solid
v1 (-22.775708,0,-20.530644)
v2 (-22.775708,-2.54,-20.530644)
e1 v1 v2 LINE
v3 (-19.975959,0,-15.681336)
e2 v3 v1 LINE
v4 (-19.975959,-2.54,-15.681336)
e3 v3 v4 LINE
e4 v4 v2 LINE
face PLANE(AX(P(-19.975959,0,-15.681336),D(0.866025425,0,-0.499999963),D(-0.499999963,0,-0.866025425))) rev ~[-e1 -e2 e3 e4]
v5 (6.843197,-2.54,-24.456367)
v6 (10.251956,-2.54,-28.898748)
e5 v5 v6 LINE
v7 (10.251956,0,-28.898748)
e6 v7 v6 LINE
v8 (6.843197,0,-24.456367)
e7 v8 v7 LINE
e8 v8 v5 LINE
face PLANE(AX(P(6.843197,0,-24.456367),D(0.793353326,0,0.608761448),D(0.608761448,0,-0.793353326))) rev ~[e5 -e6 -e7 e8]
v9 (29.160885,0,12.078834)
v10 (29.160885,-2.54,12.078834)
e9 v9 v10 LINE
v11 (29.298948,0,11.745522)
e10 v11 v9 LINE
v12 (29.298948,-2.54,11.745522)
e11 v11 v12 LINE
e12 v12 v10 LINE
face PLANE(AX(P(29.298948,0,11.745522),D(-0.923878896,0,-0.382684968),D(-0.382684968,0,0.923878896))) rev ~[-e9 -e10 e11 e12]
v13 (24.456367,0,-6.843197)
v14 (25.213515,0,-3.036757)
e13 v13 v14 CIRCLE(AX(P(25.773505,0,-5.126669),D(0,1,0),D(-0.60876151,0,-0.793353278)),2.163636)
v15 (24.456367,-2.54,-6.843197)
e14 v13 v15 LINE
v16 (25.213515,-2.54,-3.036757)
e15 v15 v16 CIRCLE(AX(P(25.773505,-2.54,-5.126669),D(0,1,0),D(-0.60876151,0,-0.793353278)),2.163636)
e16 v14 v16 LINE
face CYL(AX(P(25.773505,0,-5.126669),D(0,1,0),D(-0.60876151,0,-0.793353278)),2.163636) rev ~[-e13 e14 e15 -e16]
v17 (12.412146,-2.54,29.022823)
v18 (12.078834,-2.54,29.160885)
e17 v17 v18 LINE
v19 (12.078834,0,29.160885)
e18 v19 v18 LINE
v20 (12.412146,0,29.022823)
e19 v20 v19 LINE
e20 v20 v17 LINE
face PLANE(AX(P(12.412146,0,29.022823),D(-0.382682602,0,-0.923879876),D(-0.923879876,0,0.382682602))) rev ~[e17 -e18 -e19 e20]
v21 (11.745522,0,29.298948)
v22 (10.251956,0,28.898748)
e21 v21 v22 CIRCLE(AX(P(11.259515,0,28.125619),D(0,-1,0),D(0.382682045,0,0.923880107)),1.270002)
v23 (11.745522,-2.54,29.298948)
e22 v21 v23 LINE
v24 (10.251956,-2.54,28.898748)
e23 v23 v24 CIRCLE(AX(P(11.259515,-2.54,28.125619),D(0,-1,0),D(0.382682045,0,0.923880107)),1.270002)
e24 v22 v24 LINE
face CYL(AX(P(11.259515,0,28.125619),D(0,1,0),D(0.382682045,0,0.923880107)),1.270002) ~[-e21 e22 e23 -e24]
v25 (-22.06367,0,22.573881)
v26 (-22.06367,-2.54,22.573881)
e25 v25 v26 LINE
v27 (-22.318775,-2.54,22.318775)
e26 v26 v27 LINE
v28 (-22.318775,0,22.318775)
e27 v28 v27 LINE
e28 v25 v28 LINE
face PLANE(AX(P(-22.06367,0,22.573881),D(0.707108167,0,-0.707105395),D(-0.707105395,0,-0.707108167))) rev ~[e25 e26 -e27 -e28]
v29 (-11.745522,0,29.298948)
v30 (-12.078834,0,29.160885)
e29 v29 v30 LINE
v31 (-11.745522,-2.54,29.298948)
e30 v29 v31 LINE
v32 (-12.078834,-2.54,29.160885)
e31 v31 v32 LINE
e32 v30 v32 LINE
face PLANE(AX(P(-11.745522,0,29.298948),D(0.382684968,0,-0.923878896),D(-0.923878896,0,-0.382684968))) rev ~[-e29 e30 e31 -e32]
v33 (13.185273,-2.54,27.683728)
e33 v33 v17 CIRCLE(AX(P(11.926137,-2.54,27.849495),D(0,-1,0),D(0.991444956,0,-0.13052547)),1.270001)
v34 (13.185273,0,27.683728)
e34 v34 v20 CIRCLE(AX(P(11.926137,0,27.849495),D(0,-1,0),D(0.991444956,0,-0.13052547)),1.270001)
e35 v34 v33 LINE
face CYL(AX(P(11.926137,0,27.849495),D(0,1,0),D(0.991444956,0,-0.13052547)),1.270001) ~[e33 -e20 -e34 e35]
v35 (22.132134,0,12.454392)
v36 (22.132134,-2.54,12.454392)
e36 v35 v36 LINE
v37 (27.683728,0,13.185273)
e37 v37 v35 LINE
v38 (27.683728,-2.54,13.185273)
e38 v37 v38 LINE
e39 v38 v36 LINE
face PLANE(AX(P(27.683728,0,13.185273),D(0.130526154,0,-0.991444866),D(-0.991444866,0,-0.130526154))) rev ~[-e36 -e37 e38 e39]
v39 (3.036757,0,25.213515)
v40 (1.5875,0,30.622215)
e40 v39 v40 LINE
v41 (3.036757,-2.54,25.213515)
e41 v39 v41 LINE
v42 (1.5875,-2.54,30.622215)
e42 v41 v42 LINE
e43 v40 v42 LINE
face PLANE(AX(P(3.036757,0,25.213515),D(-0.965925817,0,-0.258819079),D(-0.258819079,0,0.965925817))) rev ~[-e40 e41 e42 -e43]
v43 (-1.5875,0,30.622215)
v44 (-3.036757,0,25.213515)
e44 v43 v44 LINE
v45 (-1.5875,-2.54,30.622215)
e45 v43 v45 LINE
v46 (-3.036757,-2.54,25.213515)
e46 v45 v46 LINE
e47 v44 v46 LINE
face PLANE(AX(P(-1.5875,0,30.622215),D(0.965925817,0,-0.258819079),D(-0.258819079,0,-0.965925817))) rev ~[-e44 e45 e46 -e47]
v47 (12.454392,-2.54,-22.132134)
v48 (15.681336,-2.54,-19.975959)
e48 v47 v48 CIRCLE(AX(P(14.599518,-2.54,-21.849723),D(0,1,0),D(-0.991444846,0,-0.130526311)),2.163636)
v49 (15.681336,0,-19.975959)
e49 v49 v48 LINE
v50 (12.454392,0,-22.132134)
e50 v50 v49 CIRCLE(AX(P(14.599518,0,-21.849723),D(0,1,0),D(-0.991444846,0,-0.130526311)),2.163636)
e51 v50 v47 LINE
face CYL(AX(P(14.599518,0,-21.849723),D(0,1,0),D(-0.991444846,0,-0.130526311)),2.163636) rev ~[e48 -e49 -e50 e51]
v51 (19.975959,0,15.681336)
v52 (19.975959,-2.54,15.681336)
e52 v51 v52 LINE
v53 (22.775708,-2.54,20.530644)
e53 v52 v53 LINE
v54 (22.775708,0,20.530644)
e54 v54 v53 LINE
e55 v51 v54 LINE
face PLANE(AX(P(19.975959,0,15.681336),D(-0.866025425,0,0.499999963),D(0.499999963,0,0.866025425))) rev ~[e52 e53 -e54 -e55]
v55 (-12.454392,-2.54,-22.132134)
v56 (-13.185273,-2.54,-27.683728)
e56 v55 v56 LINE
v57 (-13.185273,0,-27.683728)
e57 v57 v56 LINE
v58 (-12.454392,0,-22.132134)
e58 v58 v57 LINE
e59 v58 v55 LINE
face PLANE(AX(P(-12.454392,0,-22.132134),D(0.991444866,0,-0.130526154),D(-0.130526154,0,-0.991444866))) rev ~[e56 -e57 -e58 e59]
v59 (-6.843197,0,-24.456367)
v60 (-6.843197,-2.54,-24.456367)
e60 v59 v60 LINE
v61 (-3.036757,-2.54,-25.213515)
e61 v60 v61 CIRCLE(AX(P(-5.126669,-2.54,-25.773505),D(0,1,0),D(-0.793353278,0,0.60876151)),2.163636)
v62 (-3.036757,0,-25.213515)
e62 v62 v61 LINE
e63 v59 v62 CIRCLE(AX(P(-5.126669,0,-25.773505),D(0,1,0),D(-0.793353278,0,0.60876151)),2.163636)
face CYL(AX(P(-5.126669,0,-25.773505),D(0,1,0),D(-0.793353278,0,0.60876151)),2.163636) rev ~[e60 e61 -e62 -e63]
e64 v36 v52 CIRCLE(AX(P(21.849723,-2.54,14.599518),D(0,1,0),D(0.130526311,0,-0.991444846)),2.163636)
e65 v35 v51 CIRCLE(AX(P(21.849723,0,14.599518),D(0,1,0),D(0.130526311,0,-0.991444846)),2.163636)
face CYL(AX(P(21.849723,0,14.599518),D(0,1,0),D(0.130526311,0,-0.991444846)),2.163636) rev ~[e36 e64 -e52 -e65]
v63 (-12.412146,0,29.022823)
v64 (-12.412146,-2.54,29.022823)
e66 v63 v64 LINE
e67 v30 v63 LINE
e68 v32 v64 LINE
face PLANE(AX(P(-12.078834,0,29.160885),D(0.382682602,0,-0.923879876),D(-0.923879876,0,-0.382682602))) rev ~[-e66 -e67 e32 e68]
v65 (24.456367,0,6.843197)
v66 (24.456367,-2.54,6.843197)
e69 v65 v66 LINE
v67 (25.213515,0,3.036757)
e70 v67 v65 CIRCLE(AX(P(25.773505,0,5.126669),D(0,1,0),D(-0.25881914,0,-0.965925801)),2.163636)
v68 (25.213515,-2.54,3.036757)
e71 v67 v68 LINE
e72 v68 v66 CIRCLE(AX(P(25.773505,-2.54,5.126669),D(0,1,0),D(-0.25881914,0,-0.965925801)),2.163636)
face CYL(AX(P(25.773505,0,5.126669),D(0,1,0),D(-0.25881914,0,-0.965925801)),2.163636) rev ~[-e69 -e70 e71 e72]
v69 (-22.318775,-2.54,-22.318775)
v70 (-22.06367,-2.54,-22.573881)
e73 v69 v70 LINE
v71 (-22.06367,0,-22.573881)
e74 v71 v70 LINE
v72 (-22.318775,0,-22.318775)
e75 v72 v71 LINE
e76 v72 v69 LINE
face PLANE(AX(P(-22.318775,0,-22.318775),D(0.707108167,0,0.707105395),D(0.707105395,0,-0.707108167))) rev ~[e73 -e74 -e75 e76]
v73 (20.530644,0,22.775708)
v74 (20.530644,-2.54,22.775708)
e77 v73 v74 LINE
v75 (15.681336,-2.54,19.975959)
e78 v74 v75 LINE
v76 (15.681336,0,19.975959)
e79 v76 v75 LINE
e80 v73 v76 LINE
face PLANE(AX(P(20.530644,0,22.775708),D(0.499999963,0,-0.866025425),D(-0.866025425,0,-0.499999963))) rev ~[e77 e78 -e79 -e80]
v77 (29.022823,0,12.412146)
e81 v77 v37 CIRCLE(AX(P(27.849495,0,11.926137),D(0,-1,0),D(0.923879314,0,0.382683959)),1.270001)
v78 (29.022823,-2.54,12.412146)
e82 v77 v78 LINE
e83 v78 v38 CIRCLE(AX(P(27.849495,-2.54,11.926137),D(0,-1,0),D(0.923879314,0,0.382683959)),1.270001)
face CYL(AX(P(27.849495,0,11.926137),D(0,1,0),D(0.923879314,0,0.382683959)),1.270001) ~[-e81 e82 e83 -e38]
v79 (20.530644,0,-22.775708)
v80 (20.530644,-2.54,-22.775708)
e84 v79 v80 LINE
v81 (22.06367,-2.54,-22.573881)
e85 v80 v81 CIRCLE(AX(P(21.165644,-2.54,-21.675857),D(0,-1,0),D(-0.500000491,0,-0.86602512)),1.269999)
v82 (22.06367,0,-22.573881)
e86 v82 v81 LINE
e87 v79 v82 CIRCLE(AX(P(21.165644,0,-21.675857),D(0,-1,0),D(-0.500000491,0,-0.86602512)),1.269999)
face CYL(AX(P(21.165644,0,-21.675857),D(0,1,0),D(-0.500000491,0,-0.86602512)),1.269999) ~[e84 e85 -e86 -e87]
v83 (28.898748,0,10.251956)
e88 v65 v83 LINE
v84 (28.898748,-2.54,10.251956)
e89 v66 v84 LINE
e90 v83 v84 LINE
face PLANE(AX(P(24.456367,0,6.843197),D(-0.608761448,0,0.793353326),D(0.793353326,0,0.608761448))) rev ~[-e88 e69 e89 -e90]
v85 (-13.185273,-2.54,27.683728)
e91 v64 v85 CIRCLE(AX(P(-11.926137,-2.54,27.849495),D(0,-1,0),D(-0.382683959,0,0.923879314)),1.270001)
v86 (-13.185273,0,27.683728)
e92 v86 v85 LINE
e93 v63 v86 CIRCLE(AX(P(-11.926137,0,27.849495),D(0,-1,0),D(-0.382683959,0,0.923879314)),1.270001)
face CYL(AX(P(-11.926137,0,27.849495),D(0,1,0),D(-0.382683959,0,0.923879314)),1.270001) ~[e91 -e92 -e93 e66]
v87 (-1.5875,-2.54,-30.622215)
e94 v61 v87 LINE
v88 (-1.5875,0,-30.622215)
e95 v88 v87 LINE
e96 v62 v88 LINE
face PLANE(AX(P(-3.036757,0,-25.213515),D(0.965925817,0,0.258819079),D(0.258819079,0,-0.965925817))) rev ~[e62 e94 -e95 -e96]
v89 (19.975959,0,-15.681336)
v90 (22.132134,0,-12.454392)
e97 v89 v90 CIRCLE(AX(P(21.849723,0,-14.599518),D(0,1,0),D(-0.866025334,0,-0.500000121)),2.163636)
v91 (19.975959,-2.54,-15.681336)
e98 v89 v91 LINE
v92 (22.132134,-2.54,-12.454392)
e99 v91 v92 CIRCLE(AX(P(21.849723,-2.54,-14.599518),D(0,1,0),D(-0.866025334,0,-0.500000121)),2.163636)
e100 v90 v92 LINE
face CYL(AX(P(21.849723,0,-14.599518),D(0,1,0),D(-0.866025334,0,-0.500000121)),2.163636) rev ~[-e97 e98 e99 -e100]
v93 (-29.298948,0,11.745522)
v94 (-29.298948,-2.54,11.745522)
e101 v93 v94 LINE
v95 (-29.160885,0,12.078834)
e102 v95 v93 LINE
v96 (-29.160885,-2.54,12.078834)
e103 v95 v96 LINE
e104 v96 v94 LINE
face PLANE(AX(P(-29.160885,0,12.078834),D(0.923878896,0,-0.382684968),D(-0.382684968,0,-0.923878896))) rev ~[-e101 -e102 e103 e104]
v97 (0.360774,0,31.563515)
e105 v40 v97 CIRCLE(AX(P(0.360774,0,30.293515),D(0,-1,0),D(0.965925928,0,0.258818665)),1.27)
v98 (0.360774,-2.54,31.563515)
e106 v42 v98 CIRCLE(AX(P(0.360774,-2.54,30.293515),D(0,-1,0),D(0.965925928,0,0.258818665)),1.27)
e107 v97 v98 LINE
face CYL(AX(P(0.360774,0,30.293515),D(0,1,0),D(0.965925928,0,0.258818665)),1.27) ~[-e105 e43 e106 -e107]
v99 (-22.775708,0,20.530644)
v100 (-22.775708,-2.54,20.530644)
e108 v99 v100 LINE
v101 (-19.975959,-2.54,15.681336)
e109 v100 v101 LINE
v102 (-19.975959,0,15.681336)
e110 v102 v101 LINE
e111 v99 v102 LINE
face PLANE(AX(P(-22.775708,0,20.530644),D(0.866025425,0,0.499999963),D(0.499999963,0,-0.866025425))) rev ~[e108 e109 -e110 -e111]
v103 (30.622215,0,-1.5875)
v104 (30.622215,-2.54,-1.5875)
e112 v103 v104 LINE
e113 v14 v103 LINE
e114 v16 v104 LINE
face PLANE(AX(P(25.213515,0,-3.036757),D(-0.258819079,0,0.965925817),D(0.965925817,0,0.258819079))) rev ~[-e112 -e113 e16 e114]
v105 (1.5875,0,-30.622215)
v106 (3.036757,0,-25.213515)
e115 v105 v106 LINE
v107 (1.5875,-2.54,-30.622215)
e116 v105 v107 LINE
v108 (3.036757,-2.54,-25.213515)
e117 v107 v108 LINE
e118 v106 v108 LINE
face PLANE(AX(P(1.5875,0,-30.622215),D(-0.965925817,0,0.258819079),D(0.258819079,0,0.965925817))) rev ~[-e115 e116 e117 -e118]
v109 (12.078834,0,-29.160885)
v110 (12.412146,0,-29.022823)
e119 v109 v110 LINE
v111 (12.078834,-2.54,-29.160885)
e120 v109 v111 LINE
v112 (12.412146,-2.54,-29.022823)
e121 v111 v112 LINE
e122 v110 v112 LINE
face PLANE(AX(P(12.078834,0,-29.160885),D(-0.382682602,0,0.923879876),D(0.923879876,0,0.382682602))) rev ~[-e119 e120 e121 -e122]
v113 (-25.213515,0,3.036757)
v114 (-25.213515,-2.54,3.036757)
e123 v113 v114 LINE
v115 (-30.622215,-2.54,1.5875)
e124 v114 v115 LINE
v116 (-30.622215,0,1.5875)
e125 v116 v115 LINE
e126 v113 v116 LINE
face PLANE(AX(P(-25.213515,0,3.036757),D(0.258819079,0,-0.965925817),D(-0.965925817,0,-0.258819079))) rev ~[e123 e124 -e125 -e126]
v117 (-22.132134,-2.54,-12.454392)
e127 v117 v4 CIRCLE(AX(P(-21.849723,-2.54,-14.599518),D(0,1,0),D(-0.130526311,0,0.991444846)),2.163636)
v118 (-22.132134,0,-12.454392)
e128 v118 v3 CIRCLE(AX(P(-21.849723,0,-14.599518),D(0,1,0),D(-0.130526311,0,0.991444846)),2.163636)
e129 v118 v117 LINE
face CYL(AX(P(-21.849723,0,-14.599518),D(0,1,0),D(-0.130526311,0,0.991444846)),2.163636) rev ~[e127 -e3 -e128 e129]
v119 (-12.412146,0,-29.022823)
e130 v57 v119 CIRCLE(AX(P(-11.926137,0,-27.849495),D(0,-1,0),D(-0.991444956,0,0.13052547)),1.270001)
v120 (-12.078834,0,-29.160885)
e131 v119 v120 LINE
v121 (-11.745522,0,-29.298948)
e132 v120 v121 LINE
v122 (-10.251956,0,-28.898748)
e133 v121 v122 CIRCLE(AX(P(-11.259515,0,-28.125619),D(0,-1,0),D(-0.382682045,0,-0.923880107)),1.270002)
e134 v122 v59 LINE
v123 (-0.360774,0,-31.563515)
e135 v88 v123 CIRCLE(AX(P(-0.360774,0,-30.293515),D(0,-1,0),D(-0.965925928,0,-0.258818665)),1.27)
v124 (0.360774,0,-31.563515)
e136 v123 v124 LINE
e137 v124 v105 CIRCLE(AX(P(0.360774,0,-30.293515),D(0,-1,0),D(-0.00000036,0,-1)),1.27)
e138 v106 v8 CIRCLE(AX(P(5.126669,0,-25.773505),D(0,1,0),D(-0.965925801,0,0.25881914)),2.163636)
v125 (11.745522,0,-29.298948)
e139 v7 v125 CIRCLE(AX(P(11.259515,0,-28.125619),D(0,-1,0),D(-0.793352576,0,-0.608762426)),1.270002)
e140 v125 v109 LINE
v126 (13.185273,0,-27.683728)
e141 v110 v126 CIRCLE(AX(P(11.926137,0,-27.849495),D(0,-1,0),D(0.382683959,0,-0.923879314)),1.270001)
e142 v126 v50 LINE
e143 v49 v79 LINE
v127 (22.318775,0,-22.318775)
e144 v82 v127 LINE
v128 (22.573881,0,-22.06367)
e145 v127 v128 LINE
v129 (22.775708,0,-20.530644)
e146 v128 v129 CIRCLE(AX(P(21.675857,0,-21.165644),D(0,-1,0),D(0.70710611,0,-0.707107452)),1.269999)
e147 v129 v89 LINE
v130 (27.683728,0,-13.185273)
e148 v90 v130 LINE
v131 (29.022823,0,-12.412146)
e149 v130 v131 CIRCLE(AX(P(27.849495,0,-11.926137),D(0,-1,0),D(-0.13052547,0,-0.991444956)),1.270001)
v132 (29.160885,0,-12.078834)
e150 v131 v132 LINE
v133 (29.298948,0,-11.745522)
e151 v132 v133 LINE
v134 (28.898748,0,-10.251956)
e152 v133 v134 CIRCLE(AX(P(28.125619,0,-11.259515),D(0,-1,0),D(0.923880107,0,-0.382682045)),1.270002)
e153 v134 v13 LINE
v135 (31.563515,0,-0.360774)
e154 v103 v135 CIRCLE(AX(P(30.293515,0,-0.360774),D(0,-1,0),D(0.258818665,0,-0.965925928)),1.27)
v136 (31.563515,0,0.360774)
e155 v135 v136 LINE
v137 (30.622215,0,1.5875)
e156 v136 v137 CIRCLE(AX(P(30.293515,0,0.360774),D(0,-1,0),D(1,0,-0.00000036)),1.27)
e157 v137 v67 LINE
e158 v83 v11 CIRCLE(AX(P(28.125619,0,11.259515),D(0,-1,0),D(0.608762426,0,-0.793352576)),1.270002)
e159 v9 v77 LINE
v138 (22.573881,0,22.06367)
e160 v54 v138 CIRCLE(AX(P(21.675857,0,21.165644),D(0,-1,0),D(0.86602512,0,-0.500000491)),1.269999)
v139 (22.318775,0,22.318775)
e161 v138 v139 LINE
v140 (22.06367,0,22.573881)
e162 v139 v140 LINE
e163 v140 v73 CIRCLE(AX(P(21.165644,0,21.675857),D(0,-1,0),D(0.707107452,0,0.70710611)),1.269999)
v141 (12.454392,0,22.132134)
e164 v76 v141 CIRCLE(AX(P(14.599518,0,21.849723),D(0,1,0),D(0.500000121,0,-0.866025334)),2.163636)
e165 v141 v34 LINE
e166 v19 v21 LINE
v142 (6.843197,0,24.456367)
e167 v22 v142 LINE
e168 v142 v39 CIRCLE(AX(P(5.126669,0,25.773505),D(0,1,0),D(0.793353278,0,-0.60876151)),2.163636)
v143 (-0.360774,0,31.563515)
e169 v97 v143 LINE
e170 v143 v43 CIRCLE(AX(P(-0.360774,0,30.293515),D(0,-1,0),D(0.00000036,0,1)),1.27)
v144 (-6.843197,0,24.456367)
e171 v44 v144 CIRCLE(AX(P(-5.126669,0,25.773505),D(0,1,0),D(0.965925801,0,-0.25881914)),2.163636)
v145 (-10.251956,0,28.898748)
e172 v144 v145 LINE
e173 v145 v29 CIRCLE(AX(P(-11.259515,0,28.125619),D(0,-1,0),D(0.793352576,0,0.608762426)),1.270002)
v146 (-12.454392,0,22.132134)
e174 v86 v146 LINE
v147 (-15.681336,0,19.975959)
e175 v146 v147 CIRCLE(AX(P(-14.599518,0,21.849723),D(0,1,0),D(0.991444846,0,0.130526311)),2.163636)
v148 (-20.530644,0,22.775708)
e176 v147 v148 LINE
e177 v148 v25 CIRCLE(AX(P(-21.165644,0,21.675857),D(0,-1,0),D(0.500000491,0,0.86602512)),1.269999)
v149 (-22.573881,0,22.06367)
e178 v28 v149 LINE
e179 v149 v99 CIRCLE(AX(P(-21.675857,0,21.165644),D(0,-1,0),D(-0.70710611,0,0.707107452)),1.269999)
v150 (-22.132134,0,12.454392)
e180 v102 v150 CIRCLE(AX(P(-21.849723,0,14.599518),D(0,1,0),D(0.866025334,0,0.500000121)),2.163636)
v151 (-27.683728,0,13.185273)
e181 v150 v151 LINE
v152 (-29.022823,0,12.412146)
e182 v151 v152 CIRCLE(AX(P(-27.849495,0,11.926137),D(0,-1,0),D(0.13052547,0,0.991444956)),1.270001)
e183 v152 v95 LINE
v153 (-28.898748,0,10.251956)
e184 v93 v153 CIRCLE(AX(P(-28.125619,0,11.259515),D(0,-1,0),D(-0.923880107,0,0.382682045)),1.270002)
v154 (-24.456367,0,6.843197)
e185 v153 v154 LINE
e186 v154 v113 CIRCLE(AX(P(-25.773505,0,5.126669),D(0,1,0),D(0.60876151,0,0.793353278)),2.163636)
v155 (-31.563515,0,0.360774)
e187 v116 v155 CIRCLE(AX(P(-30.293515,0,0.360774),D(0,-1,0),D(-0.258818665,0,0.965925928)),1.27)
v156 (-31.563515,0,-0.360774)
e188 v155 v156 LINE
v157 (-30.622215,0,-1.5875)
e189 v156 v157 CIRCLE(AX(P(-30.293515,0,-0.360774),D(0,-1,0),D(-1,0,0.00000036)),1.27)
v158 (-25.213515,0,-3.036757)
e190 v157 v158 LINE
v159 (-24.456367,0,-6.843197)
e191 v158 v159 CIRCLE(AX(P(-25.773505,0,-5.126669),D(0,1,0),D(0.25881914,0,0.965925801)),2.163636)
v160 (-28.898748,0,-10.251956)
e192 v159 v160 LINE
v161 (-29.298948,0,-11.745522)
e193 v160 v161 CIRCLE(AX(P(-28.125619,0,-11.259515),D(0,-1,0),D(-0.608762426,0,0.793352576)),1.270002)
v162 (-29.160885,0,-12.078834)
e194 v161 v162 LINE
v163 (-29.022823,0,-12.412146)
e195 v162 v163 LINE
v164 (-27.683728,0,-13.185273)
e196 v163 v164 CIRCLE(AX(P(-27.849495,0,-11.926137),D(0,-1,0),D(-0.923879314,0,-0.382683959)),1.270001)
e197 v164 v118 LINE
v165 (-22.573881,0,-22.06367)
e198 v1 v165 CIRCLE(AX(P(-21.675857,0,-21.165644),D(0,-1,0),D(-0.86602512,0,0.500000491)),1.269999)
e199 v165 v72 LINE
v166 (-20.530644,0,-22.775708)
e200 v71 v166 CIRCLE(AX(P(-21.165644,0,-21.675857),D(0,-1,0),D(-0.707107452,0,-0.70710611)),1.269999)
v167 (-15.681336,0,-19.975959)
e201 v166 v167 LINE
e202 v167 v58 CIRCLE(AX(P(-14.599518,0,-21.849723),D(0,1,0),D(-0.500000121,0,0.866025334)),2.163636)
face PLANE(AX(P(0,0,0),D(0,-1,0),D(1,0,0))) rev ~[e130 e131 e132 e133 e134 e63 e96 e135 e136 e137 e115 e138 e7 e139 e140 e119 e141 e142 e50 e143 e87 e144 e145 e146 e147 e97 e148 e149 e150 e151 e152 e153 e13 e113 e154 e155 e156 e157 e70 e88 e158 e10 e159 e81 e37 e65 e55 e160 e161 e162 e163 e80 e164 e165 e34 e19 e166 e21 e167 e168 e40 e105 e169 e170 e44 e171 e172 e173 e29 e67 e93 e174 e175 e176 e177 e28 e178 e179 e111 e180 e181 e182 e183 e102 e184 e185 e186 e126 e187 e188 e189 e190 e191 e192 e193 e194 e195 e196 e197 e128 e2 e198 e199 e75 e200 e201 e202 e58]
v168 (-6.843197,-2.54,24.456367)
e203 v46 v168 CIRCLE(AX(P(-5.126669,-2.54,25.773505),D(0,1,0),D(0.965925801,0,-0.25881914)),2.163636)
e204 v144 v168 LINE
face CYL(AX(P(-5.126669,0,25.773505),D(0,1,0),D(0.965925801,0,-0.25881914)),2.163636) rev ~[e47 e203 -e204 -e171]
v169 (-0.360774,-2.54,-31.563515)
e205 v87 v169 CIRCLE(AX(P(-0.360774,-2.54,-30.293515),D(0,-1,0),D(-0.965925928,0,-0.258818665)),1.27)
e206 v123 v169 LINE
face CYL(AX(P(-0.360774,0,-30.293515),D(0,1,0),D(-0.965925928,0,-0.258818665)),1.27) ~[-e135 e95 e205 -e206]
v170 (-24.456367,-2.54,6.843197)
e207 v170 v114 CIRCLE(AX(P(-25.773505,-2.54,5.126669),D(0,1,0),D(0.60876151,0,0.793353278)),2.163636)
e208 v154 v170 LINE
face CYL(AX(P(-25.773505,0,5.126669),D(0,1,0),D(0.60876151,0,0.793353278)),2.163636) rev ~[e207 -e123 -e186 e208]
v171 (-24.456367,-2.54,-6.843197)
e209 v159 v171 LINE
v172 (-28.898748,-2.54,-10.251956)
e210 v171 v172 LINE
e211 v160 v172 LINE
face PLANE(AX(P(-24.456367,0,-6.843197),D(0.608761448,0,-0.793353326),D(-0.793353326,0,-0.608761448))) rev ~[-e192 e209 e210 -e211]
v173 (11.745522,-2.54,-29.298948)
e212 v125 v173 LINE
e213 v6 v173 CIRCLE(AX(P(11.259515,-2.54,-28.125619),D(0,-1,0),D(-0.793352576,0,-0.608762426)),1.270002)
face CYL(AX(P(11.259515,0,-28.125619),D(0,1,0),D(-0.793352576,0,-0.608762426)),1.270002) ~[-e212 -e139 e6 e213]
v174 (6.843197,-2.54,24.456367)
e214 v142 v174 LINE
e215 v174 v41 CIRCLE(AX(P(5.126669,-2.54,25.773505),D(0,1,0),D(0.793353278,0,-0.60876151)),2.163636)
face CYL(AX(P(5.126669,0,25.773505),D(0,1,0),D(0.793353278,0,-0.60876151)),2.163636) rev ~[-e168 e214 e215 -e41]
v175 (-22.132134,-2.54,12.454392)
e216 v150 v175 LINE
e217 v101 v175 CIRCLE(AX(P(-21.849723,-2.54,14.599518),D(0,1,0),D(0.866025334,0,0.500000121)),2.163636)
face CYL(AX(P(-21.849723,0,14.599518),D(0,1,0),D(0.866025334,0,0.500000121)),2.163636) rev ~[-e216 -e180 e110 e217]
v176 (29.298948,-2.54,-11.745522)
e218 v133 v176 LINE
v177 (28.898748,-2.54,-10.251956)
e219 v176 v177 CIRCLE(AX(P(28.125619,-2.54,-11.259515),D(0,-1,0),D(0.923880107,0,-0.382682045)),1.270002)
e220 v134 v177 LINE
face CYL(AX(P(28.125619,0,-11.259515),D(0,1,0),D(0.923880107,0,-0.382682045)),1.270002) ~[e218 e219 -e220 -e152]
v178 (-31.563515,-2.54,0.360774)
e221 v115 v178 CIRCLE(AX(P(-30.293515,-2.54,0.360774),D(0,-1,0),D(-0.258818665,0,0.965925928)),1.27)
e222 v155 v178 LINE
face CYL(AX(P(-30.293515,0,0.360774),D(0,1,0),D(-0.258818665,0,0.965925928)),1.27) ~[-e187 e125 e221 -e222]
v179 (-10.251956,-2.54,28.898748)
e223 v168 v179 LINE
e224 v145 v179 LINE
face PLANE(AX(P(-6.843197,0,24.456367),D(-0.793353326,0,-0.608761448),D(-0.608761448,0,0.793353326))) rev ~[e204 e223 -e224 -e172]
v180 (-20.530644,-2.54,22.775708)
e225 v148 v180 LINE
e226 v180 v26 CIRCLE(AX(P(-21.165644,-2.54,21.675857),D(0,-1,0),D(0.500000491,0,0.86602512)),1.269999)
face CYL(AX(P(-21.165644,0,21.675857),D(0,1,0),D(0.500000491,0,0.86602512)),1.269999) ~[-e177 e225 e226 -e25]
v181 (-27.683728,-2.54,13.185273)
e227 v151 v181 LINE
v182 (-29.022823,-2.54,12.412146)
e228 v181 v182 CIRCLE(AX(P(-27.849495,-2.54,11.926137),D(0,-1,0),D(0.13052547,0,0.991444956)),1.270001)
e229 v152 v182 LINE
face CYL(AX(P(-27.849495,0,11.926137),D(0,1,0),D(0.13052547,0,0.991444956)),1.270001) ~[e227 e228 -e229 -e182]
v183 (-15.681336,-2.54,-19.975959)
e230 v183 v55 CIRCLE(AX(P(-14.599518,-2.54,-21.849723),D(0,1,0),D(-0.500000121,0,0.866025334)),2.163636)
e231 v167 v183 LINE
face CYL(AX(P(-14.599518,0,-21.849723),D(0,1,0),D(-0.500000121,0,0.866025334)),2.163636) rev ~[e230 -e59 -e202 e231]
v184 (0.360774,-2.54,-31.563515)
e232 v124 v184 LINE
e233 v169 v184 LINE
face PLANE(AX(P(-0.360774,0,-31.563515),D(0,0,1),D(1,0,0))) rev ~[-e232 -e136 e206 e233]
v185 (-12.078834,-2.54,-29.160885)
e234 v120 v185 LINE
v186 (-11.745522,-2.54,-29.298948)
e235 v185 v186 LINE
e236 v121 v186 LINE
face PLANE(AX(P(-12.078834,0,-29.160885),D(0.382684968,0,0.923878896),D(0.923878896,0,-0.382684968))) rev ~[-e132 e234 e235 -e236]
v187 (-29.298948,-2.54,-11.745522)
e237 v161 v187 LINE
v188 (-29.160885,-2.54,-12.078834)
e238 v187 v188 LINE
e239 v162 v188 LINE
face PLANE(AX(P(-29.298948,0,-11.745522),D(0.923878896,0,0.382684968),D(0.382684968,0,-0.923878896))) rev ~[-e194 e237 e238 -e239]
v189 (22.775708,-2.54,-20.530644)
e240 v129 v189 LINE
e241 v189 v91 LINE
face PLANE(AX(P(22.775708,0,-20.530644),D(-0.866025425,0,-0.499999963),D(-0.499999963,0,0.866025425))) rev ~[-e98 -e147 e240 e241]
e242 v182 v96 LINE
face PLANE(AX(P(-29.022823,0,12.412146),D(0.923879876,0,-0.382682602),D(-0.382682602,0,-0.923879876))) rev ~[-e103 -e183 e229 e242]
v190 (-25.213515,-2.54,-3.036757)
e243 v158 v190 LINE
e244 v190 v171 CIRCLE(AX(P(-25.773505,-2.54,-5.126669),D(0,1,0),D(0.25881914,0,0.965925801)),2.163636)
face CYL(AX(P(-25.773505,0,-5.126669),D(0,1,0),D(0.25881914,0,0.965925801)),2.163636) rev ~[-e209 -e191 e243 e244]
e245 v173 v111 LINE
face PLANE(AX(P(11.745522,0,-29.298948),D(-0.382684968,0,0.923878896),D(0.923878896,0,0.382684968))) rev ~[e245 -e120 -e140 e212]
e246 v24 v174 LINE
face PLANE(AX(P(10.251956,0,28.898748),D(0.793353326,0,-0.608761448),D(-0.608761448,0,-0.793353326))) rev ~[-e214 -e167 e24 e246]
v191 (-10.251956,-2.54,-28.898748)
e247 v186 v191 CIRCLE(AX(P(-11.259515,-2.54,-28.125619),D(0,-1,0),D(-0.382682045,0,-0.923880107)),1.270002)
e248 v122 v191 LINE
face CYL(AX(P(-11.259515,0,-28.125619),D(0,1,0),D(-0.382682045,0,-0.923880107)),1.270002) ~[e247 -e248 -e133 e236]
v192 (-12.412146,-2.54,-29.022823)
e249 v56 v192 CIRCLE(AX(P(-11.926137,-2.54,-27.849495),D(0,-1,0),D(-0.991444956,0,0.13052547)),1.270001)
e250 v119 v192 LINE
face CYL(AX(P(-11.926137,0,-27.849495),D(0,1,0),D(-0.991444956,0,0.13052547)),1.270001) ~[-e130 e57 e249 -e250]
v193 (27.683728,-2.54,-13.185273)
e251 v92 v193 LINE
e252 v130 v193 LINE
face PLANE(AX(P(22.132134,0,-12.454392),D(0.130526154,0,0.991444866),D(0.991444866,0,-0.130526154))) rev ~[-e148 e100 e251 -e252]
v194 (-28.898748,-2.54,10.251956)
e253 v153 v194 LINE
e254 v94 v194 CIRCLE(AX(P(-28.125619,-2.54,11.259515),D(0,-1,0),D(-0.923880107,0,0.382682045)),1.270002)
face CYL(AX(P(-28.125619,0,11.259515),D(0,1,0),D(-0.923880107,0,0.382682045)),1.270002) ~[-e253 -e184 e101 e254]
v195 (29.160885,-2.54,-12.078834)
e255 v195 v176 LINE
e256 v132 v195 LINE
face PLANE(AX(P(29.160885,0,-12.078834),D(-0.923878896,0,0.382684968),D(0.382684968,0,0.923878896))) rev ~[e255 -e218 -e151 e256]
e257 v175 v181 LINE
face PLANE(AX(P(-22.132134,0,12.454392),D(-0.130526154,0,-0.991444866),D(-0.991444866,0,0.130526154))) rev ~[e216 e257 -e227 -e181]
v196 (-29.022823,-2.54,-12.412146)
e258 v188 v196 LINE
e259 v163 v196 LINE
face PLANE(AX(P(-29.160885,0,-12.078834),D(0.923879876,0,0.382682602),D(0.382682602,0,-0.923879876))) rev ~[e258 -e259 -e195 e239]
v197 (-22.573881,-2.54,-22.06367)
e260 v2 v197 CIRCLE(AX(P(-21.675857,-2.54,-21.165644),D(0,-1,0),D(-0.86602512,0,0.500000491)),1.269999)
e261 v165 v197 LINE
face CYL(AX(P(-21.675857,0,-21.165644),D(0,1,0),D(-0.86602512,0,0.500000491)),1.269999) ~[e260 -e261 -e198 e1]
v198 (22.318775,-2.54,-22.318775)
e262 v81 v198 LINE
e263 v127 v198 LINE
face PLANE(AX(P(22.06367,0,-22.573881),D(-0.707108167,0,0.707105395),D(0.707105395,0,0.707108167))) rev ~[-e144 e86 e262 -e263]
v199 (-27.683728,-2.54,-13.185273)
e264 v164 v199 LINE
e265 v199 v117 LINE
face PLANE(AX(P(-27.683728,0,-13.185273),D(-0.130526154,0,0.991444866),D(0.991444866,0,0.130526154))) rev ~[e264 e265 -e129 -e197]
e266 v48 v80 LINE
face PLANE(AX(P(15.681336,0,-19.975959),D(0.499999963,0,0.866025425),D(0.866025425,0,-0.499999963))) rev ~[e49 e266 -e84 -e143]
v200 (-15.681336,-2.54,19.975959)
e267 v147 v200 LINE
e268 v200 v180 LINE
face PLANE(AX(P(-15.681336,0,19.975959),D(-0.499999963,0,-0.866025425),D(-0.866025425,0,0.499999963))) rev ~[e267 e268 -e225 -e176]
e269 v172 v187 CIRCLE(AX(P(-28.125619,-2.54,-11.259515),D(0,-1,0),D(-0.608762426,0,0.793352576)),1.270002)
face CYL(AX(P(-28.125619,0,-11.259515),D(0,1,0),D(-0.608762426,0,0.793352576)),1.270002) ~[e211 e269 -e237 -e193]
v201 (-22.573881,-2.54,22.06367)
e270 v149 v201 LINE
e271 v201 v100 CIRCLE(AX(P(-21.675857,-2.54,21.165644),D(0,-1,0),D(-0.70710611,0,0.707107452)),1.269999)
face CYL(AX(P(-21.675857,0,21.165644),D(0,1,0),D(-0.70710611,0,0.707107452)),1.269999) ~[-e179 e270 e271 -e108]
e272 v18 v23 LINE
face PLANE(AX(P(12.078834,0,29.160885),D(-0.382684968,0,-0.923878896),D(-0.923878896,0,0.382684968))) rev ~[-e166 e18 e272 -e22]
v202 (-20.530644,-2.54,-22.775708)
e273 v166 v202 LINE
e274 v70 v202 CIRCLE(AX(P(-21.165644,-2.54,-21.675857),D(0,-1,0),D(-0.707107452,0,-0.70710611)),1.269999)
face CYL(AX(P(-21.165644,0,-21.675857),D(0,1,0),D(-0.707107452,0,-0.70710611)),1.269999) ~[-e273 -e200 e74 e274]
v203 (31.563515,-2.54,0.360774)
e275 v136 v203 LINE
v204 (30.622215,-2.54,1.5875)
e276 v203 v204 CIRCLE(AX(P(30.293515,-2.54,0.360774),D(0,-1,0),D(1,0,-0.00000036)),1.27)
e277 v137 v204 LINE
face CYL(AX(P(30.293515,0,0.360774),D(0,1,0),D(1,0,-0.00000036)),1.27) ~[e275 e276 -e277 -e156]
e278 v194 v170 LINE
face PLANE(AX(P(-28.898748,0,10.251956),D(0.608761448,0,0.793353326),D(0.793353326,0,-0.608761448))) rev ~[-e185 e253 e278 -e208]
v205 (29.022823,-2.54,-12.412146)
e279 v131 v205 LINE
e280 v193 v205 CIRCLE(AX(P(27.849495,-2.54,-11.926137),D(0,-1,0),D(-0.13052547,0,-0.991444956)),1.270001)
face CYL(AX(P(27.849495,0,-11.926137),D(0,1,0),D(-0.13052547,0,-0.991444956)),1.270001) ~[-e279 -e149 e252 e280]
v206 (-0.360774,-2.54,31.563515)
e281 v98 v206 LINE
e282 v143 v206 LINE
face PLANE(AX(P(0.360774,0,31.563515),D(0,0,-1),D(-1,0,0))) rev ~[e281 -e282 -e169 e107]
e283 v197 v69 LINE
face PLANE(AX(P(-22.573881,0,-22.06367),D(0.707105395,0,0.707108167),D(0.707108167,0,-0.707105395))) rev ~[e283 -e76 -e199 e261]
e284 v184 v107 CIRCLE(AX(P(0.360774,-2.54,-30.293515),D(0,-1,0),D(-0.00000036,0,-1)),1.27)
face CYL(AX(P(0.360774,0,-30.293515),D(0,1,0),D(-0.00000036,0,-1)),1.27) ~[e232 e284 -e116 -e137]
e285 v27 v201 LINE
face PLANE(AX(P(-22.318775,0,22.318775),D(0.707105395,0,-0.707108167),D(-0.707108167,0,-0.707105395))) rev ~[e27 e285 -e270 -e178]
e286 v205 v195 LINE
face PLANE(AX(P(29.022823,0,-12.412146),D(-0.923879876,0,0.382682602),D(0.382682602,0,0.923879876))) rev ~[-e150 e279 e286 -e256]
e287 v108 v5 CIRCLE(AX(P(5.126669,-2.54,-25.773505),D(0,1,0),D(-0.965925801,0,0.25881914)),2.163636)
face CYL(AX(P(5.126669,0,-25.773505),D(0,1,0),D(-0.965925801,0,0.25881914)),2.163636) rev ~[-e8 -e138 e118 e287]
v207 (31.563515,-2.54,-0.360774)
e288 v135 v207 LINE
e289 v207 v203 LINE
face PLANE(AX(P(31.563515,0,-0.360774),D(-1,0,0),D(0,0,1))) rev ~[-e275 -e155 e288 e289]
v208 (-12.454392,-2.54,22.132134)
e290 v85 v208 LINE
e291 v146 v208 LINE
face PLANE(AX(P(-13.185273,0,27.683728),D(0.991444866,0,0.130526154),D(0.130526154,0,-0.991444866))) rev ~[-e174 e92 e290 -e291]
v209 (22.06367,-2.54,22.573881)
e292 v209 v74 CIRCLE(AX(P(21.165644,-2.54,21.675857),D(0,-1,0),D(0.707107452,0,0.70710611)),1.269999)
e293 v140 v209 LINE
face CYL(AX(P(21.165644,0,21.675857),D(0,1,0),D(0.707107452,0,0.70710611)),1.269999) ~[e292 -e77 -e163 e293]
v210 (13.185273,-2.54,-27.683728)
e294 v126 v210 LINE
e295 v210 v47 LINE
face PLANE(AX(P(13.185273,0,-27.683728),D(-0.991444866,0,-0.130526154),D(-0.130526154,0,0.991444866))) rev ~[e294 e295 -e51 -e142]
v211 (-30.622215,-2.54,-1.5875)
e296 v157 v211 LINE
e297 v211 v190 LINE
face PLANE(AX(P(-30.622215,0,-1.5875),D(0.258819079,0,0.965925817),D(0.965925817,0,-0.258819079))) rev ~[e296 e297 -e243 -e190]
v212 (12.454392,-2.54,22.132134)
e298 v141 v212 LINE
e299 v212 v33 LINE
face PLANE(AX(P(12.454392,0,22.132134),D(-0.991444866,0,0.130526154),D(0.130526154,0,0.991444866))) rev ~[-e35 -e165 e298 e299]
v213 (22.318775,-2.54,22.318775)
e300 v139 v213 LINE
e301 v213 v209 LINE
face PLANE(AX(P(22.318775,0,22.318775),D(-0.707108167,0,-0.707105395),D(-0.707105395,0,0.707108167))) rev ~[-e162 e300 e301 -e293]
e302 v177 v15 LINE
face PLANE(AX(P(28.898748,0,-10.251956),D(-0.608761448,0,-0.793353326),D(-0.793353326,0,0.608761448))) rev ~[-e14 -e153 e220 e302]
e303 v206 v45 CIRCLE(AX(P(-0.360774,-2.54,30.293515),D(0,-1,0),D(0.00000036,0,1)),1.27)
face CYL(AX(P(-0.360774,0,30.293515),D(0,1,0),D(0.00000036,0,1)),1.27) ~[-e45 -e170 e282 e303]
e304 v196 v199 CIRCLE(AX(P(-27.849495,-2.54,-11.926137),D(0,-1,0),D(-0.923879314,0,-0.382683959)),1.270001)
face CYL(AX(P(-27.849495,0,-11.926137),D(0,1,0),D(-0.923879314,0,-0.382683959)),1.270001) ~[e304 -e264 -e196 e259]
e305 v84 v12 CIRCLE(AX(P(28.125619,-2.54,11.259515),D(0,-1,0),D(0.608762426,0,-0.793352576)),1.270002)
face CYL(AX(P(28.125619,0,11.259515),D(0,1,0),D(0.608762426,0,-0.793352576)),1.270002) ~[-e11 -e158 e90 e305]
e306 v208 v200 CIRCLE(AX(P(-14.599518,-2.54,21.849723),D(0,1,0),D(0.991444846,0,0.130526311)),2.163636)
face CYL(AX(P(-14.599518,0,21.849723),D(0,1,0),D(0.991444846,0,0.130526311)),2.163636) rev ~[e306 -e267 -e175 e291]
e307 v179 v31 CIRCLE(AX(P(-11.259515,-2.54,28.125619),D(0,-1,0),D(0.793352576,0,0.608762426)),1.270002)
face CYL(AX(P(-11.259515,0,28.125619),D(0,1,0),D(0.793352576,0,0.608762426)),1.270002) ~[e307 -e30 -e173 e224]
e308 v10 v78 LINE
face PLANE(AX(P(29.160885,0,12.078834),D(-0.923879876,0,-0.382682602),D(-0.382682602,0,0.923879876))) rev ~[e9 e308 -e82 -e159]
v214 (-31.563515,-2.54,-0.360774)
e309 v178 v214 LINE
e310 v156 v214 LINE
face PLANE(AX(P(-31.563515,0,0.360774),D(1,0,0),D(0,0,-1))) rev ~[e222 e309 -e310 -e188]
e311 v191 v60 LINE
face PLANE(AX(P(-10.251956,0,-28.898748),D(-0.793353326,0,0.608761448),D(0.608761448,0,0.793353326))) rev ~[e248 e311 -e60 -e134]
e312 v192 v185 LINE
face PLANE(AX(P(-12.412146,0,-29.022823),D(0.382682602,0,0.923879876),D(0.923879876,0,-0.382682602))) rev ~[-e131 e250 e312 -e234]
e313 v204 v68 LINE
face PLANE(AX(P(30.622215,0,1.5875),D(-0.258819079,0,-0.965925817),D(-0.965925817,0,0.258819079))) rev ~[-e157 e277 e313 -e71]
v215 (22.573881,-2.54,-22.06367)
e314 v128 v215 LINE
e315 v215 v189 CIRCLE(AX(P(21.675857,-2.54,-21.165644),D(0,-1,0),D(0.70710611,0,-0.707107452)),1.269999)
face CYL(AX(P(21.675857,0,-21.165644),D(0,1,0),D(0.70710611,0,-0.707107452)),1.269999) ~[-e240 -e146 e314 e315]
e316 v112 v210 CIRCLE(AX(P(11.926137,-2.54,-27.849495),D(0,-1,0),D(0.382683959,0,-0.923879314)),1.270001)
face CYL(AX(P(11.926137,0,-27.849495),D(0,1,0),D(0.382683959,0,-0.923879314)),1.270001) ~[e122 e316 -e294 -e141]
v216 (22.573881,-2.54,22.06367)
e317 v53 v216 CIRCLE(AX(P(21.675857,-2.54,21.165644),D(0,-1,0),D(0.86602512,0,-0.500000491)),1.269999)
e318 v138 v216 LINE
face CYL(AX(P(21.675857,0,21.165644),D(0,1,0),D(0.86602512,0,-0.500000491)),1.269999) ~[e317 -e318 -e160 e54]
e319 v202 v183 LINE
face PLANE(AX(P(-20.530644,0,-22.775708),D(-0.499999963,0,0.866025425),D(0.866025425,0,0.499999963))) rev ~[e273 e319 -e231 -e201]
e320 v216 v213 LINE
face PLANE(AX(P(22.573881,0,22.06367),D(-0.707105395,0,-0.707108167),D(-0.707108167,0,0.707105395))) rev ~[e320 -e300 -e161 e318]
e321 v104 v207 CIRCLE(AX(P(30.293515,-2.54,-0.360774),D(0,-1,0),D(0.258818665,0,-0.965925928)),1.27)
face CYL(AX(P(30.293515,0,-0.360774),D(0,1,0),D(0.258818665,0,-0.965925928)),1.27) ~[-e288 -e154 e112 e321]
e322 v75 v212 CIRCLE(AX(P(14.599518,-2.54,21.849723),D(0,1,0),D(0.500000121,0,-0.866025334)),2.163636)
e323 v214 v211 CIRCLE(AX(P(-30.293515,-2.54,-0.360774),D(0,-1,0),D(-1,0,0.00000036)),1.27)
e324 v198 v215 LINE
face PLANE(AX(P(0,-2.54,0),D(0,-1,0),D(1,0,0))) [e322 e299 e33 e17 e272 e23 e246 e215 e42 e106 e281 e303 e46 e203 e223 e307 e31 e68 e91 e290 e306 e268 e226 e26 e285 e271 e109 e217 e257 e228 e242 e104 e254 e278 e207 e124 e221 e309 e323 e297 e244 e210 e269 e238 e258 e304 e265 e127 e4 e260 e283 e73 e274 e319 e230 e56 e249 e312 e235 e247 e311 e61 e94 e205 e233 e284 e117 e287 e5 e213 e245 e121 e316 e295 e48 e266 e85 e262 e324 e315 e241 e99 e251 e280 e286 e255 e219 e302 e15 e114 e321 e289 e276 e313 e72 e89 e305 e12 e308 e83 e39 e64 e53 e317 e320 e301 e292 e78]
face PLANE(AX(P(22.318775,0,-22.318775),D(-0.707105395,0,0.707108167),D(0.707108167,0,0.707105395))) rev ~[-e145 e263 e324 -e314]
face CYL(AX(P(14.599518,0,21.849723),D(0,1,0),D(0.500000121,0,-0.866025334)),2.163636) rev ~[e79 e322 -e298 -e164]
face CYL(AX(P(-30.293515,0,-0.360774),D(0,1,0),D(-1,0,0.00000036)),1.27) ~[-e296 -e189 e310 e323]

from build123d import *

# Parameters (mm, degrees)
F1_DEPTH = 2.54


with BuildPart() as f1:
    # F0 (on Front) → F1 (new body)
    with BuildSketch(Plane.XZ):
        with BuildLine():
            Line((-1.5875, 30.622215), (-3.036757, 25.213515))
            ThreePointArc((-3.036757, 25.213515), (-4.704564, 23.651443), (-6.843197, 24.456367))
            Line((-6.843197, 24.456367), (-10.251956, 28.898748))
            ThreePointArc((-10.251956, 28.898748), (-10.930814, 29.352346), (-11.745522, 29.298948))
            Line((-11.745522, 29.298948), (-12.078834, 29.160885))
            Line((-12.078834, 29.160885), (-12.412146, 29.022823))
            ThreePointArc((-12.412146, 29.022823), (-13.02599, 28.484496), (-13.185273, 27.683728))
            Line((-13.185273, 27.683728), (-12.454392, 22.132134))
            ThreePointArc((-12.454392, 22.132134), (-13.397466, 20.050725), (-15.681336, 19.975959))
            Line((-15.681336, 19.975959), (-20.530644, 22.775708))
            ThreePointArc((-20.530644, 22.775708), (-21.331412, 22.934991), (-22.06367, 22.573881))
            Line((-22.06367, 22.573881), (-22.318775, 22.318775))
            Line((-22.318775, 22.318775), (-22.573881, 22.06367))
            ThreePointArc((-22.573881, 22.06367), (-22.934991, 21.331412), (-22.775708, 20.530644))
            Line((-22.775708, 20.530644), (-19.975959, 15.681336))
            ThreePointArc((-19.975959, 15.681336), (-20.050725, 13.397466), (-22.132134, 12.454392))
            Line((-22.132134, 12.454392), (-27.683728, 13.185273))
            ThreePointArc((-27.683728, 13.185273), (-28.484496, 13.02599), (-29.022823, 12.412146))
            Line((-29.022823, 12.412146), (-29.160885, 12.078834))
            Line((-29.160885, 12.078834), (-29.298948, 11.745522))
            ThreePointArc((-29.298948, 11.745522), (-29.352346, 10.930814), (-28.898748, 10.251956))
            Line((-28.898748, 10.251956), (-24.456367, 6.843197))
            ThreePointArc((-24.456367, 6.843197), (-23.651443, 4.704564), (-25.213515, 3.036757))
            Line((-25.213515, 3.036757), (-30.622215, 1.5875))
            ThreePointArc((-30.622215, 1.5875), (-31.301074, 1.133901), (-31.563515, 0.360774))
            Line((-31.563515, 0.360774), (-31.563515, 0))
            Line((-31.563515, 0), (-31.563515, -0.360774))
            ThreePointArc((-31.563515, -0.360774), (-31.301074, -1.133901), (-30.622215, -1.5875))
            Line((-30.622215, -1.5875), (-25.213515, -3.036757))
            ThreePointArc((-25.213515, -3.036757), (-23.651443, -4.704564), (-24.456367, -6.843197))
            Line((-24.456367, -6.843197), (-28.898748, -10.251956))
            ThreePointArc((-28.898748, -10.251956), (-29.352346, -10.930814), (-29.298948, -11.745522))
            Line((-29.298948, -11.745522), (-29.160885, -12.078834))
            Line((-29.160885, -12.078834), (-29.022823, -12.412146))
            ThreePointArc((-29.022823, -12.412146), (-28.484496, -13.02599), (-27.683728, -13.185273))
            Line((-27.683728, -13.185273), (-22.132134, -12.454392))
            ThreePointArc((-22.132134, -12.454392), (-20.050725, -13.397466), (-19.975959, -15.681336))
            Line((-19.975959, -15.681336), (-22.775708, -20.530644))
            ThreePointArc((-22.775708, -20.530644), (-22.934991, -21.331412), (-22.573881, -22.06367))
            Line((-22.573881, -22.06367), (-22.318775, -22.318775))
            Line((-22.318775, -22.318775), (-22.06367, -22.573881))
            ThreePointArc((-22.06367, -22.573881), (-21.331412, -22.934991), (-20.530644, -22.775708))
            Line((-20.530644, -22.775708), (-15.681336, -19.975959))
            ThreePointArc((-15.681336, -19.975959), (-13.397466, -20.050725), (-12.454392, -22.132134))
            Line((-12.454392, -22.132134), (-13.185273, -27.683728))
            ThreePointArc((-13.185273, -27.683728), (-13.02599, -28.484496), (-12.412146, -29.022823))
            Line((-12.412146, -29.022823), (-12.078834, -29.160885))
            Line((-12.078834, -29.160885), (-11.745522, -29.298948))
            ThreePointArc((-11.745522, -29.298948), (-10.930814, -29.352346), (-10.251956, -28.898748))
            Line((-10.251956, -28.898748), (-6.843197, -24.456367))
            ThreePointArc((-6.843197, -24.456367), (-4.704564, -23.651443), (-3.036757, -25.213515))
            Line((-3.036757, -25.213515), (-1.5875, -30.622215))
            ThreePointArc((-1.5875, -30.622215), (-1.133901, -31.301074), (-0.360774, -31.563515))
            Line((-0.360774, -31.563515), (0, -31.563515))
            Line((0, -31.563515), (0.360774, -31.563515))
            ThreePointArc((0.360774, -31.563515), (1.133901, -31.301074), (1.5875, -30.622215))
            Line((1.5875, -30.622215), (3.036757, -25.213515))
            ThreePointArc((3.036757, -25.213515), (4.704564, -23.651443), (6.843197, -24.456367))
            Line((6.843197, -24.456367), (10.251956, -28.898748))
            ThreePointArc((10.251956, -28.898748), (10.930814, -29.352346), (11.745522, -29.298948))
            Line((11.745522, -29.298948), (12.078834, -29.160885))
            Line((12.078834, -29.160885), (12.412146, -29.022823))
            ThreePointArc((12.412146, -29.022823), (13.02599, -28.484496), (13.185273, -27.683728))
            Line((13.185273, -27.683728), (12.454392, -22.132134))
            ThreePointArc((12.454392, -22.132134), (13.397466, -20.050725), (15.681336, -19.975959))
            Line((15.681336, -19.975959), (20.530644, -22.775708))
            ThreePointArc((20.530644, -22.775708), (21.331412, -22.934991), (22.06367, -22.573881))
            Line((22.06367, -22.573881), (22.318775, -22.318775))
            Line((22.318775, -22.318775), (22.573881, -22.06367))
            ThreePointArc((22.573881, -22.06367), (22.934991, -21.331412), (22.775708, -20.530644))
            Line((22.775708, -20.530644), (19.975959, -15.681336))
            ThreePointArc((19.975959, -15.681336), (20.050725, -13.397466), (22.132134, -12.454392))
            Line((22.132134, -12.454392), (27.683728, -13.185273))
            ThreePointArc((27.683728, -13.185273), (28.484496, -13.02599), (29.022823, -12.412146))
            Line((29.022823, -12.412146), (29.160885, -12.078834))
            Line((29.160885, -12.078834), (29.298948, -11.745522))
            ThreePointArc((29.298948, -11.745522), (29.352346, -10.930814), (28.898748, -10.251956))
            Line((28.898748, -10.251956), (24.456367, -6.843197))
            ThreePointArc((24.456367, -6.843197), (23.651443, -4.704564), (25.213515, -3.036757))
            Line((25.213515, -3.036757), (30.622215, -1.5875))
            ThreePointArc((30.622215, -1.5875), (31.301074, -1.133901), (31.563515, -0.360774))
            Line((31.563515, -0.360774), (31.563515, 0))
            Line((31.563515, 0), (31.563515, 0.360774))
            ThreePointArc((31.563515, 0.360774), (31.301074, 1.133901), (30.622215, 1.5875))
            Line((30.622215, 1.5875), (25.213515, 3.036757))
            ThreePointArc((25.213515, 3.036757), (23.651443, 4.704564), (24.456367, 6.843197))
            Line((24.456367, 6.843197), (28.898748, 10.251956))
            ThreePointArc((28.898748, 10.251956), (29.352346, 10.930814), (29.298948, 11.745522))
            Line((29.298948, 11.745522), (29.160885, 12.078834))
            Line((29.160885, 12.078834), (29.022823, 12.412146))
            ThreePointArc((29.022823, 12.412146), (28.484496, 13.02599), (27.683728, 13.185273))
            Line((27.683728, 13.185273), (22.132134, 12.454392))
            ThreePointArc((22.132134, 12.454392), (20.050725, 13.397466), (19.975959, 15.681336))
            Line((19.975959, 15.681336), (22.775708, 20.530644))
            ThreePointArc((22.775708, 20.530644), (22.934991, 21.331412), (22.573881, 22.06367))
            Line((22.573881, 22.06367), (22.318775, 22.318775))
            Line((22.318775, 22.318775), (22.06367, 22.573881))
            ThreePointArc((22.06367, 22.573881), (21.331412, 22.934991), (20.530644, 22.775708))
            Line((20.530644, 22.775708), (15.681336, 19.975959))
            ThreePointArc((15.681336, 19.975959), (13.397466, 20.050725), (12.454392, 22.132134))
            Line((12.454392, 22.132134), (13.185273, 27.683728))
            ThreePointArc((13.185273, 27.683728), (13.02599, 28.484496), (12.412146, 29.022823))
            Line((12.412146, 29.022823), (12.078834, 29.160885))
            Line((12.078834, 29.160885), (11.745522, 29.298948))
            ThreePointArc((11.745522, 29.298948), (10.930814, 29.352346), (10.251956, 28.898748))
            Line((10.251956, 28.898748), (6.843197, 24.456367))
            ThreePointArc((6.843197, 24.456367), (4.704564, 23.651443), (3.036757, 25.213515))
            Line((3.036757, 25.213515), (1.5875, 30.622215))
            ThreePointArc((1.5875, 30.622215), (1.133901, 31.301074), (0.360774, 31.563515))
            Line((0.360774, 31.563515), (0, 31.563515))
            Line((0, 31.563515), (-0.360774, 31.563515))
            ThreePointArc((-0.360774, 31.563515), (-1.133901, 31.301074), (-1.5875, 30.622215))
        make_face()
    extrude(amount=F1_DEPTH)


solid = f1.part
